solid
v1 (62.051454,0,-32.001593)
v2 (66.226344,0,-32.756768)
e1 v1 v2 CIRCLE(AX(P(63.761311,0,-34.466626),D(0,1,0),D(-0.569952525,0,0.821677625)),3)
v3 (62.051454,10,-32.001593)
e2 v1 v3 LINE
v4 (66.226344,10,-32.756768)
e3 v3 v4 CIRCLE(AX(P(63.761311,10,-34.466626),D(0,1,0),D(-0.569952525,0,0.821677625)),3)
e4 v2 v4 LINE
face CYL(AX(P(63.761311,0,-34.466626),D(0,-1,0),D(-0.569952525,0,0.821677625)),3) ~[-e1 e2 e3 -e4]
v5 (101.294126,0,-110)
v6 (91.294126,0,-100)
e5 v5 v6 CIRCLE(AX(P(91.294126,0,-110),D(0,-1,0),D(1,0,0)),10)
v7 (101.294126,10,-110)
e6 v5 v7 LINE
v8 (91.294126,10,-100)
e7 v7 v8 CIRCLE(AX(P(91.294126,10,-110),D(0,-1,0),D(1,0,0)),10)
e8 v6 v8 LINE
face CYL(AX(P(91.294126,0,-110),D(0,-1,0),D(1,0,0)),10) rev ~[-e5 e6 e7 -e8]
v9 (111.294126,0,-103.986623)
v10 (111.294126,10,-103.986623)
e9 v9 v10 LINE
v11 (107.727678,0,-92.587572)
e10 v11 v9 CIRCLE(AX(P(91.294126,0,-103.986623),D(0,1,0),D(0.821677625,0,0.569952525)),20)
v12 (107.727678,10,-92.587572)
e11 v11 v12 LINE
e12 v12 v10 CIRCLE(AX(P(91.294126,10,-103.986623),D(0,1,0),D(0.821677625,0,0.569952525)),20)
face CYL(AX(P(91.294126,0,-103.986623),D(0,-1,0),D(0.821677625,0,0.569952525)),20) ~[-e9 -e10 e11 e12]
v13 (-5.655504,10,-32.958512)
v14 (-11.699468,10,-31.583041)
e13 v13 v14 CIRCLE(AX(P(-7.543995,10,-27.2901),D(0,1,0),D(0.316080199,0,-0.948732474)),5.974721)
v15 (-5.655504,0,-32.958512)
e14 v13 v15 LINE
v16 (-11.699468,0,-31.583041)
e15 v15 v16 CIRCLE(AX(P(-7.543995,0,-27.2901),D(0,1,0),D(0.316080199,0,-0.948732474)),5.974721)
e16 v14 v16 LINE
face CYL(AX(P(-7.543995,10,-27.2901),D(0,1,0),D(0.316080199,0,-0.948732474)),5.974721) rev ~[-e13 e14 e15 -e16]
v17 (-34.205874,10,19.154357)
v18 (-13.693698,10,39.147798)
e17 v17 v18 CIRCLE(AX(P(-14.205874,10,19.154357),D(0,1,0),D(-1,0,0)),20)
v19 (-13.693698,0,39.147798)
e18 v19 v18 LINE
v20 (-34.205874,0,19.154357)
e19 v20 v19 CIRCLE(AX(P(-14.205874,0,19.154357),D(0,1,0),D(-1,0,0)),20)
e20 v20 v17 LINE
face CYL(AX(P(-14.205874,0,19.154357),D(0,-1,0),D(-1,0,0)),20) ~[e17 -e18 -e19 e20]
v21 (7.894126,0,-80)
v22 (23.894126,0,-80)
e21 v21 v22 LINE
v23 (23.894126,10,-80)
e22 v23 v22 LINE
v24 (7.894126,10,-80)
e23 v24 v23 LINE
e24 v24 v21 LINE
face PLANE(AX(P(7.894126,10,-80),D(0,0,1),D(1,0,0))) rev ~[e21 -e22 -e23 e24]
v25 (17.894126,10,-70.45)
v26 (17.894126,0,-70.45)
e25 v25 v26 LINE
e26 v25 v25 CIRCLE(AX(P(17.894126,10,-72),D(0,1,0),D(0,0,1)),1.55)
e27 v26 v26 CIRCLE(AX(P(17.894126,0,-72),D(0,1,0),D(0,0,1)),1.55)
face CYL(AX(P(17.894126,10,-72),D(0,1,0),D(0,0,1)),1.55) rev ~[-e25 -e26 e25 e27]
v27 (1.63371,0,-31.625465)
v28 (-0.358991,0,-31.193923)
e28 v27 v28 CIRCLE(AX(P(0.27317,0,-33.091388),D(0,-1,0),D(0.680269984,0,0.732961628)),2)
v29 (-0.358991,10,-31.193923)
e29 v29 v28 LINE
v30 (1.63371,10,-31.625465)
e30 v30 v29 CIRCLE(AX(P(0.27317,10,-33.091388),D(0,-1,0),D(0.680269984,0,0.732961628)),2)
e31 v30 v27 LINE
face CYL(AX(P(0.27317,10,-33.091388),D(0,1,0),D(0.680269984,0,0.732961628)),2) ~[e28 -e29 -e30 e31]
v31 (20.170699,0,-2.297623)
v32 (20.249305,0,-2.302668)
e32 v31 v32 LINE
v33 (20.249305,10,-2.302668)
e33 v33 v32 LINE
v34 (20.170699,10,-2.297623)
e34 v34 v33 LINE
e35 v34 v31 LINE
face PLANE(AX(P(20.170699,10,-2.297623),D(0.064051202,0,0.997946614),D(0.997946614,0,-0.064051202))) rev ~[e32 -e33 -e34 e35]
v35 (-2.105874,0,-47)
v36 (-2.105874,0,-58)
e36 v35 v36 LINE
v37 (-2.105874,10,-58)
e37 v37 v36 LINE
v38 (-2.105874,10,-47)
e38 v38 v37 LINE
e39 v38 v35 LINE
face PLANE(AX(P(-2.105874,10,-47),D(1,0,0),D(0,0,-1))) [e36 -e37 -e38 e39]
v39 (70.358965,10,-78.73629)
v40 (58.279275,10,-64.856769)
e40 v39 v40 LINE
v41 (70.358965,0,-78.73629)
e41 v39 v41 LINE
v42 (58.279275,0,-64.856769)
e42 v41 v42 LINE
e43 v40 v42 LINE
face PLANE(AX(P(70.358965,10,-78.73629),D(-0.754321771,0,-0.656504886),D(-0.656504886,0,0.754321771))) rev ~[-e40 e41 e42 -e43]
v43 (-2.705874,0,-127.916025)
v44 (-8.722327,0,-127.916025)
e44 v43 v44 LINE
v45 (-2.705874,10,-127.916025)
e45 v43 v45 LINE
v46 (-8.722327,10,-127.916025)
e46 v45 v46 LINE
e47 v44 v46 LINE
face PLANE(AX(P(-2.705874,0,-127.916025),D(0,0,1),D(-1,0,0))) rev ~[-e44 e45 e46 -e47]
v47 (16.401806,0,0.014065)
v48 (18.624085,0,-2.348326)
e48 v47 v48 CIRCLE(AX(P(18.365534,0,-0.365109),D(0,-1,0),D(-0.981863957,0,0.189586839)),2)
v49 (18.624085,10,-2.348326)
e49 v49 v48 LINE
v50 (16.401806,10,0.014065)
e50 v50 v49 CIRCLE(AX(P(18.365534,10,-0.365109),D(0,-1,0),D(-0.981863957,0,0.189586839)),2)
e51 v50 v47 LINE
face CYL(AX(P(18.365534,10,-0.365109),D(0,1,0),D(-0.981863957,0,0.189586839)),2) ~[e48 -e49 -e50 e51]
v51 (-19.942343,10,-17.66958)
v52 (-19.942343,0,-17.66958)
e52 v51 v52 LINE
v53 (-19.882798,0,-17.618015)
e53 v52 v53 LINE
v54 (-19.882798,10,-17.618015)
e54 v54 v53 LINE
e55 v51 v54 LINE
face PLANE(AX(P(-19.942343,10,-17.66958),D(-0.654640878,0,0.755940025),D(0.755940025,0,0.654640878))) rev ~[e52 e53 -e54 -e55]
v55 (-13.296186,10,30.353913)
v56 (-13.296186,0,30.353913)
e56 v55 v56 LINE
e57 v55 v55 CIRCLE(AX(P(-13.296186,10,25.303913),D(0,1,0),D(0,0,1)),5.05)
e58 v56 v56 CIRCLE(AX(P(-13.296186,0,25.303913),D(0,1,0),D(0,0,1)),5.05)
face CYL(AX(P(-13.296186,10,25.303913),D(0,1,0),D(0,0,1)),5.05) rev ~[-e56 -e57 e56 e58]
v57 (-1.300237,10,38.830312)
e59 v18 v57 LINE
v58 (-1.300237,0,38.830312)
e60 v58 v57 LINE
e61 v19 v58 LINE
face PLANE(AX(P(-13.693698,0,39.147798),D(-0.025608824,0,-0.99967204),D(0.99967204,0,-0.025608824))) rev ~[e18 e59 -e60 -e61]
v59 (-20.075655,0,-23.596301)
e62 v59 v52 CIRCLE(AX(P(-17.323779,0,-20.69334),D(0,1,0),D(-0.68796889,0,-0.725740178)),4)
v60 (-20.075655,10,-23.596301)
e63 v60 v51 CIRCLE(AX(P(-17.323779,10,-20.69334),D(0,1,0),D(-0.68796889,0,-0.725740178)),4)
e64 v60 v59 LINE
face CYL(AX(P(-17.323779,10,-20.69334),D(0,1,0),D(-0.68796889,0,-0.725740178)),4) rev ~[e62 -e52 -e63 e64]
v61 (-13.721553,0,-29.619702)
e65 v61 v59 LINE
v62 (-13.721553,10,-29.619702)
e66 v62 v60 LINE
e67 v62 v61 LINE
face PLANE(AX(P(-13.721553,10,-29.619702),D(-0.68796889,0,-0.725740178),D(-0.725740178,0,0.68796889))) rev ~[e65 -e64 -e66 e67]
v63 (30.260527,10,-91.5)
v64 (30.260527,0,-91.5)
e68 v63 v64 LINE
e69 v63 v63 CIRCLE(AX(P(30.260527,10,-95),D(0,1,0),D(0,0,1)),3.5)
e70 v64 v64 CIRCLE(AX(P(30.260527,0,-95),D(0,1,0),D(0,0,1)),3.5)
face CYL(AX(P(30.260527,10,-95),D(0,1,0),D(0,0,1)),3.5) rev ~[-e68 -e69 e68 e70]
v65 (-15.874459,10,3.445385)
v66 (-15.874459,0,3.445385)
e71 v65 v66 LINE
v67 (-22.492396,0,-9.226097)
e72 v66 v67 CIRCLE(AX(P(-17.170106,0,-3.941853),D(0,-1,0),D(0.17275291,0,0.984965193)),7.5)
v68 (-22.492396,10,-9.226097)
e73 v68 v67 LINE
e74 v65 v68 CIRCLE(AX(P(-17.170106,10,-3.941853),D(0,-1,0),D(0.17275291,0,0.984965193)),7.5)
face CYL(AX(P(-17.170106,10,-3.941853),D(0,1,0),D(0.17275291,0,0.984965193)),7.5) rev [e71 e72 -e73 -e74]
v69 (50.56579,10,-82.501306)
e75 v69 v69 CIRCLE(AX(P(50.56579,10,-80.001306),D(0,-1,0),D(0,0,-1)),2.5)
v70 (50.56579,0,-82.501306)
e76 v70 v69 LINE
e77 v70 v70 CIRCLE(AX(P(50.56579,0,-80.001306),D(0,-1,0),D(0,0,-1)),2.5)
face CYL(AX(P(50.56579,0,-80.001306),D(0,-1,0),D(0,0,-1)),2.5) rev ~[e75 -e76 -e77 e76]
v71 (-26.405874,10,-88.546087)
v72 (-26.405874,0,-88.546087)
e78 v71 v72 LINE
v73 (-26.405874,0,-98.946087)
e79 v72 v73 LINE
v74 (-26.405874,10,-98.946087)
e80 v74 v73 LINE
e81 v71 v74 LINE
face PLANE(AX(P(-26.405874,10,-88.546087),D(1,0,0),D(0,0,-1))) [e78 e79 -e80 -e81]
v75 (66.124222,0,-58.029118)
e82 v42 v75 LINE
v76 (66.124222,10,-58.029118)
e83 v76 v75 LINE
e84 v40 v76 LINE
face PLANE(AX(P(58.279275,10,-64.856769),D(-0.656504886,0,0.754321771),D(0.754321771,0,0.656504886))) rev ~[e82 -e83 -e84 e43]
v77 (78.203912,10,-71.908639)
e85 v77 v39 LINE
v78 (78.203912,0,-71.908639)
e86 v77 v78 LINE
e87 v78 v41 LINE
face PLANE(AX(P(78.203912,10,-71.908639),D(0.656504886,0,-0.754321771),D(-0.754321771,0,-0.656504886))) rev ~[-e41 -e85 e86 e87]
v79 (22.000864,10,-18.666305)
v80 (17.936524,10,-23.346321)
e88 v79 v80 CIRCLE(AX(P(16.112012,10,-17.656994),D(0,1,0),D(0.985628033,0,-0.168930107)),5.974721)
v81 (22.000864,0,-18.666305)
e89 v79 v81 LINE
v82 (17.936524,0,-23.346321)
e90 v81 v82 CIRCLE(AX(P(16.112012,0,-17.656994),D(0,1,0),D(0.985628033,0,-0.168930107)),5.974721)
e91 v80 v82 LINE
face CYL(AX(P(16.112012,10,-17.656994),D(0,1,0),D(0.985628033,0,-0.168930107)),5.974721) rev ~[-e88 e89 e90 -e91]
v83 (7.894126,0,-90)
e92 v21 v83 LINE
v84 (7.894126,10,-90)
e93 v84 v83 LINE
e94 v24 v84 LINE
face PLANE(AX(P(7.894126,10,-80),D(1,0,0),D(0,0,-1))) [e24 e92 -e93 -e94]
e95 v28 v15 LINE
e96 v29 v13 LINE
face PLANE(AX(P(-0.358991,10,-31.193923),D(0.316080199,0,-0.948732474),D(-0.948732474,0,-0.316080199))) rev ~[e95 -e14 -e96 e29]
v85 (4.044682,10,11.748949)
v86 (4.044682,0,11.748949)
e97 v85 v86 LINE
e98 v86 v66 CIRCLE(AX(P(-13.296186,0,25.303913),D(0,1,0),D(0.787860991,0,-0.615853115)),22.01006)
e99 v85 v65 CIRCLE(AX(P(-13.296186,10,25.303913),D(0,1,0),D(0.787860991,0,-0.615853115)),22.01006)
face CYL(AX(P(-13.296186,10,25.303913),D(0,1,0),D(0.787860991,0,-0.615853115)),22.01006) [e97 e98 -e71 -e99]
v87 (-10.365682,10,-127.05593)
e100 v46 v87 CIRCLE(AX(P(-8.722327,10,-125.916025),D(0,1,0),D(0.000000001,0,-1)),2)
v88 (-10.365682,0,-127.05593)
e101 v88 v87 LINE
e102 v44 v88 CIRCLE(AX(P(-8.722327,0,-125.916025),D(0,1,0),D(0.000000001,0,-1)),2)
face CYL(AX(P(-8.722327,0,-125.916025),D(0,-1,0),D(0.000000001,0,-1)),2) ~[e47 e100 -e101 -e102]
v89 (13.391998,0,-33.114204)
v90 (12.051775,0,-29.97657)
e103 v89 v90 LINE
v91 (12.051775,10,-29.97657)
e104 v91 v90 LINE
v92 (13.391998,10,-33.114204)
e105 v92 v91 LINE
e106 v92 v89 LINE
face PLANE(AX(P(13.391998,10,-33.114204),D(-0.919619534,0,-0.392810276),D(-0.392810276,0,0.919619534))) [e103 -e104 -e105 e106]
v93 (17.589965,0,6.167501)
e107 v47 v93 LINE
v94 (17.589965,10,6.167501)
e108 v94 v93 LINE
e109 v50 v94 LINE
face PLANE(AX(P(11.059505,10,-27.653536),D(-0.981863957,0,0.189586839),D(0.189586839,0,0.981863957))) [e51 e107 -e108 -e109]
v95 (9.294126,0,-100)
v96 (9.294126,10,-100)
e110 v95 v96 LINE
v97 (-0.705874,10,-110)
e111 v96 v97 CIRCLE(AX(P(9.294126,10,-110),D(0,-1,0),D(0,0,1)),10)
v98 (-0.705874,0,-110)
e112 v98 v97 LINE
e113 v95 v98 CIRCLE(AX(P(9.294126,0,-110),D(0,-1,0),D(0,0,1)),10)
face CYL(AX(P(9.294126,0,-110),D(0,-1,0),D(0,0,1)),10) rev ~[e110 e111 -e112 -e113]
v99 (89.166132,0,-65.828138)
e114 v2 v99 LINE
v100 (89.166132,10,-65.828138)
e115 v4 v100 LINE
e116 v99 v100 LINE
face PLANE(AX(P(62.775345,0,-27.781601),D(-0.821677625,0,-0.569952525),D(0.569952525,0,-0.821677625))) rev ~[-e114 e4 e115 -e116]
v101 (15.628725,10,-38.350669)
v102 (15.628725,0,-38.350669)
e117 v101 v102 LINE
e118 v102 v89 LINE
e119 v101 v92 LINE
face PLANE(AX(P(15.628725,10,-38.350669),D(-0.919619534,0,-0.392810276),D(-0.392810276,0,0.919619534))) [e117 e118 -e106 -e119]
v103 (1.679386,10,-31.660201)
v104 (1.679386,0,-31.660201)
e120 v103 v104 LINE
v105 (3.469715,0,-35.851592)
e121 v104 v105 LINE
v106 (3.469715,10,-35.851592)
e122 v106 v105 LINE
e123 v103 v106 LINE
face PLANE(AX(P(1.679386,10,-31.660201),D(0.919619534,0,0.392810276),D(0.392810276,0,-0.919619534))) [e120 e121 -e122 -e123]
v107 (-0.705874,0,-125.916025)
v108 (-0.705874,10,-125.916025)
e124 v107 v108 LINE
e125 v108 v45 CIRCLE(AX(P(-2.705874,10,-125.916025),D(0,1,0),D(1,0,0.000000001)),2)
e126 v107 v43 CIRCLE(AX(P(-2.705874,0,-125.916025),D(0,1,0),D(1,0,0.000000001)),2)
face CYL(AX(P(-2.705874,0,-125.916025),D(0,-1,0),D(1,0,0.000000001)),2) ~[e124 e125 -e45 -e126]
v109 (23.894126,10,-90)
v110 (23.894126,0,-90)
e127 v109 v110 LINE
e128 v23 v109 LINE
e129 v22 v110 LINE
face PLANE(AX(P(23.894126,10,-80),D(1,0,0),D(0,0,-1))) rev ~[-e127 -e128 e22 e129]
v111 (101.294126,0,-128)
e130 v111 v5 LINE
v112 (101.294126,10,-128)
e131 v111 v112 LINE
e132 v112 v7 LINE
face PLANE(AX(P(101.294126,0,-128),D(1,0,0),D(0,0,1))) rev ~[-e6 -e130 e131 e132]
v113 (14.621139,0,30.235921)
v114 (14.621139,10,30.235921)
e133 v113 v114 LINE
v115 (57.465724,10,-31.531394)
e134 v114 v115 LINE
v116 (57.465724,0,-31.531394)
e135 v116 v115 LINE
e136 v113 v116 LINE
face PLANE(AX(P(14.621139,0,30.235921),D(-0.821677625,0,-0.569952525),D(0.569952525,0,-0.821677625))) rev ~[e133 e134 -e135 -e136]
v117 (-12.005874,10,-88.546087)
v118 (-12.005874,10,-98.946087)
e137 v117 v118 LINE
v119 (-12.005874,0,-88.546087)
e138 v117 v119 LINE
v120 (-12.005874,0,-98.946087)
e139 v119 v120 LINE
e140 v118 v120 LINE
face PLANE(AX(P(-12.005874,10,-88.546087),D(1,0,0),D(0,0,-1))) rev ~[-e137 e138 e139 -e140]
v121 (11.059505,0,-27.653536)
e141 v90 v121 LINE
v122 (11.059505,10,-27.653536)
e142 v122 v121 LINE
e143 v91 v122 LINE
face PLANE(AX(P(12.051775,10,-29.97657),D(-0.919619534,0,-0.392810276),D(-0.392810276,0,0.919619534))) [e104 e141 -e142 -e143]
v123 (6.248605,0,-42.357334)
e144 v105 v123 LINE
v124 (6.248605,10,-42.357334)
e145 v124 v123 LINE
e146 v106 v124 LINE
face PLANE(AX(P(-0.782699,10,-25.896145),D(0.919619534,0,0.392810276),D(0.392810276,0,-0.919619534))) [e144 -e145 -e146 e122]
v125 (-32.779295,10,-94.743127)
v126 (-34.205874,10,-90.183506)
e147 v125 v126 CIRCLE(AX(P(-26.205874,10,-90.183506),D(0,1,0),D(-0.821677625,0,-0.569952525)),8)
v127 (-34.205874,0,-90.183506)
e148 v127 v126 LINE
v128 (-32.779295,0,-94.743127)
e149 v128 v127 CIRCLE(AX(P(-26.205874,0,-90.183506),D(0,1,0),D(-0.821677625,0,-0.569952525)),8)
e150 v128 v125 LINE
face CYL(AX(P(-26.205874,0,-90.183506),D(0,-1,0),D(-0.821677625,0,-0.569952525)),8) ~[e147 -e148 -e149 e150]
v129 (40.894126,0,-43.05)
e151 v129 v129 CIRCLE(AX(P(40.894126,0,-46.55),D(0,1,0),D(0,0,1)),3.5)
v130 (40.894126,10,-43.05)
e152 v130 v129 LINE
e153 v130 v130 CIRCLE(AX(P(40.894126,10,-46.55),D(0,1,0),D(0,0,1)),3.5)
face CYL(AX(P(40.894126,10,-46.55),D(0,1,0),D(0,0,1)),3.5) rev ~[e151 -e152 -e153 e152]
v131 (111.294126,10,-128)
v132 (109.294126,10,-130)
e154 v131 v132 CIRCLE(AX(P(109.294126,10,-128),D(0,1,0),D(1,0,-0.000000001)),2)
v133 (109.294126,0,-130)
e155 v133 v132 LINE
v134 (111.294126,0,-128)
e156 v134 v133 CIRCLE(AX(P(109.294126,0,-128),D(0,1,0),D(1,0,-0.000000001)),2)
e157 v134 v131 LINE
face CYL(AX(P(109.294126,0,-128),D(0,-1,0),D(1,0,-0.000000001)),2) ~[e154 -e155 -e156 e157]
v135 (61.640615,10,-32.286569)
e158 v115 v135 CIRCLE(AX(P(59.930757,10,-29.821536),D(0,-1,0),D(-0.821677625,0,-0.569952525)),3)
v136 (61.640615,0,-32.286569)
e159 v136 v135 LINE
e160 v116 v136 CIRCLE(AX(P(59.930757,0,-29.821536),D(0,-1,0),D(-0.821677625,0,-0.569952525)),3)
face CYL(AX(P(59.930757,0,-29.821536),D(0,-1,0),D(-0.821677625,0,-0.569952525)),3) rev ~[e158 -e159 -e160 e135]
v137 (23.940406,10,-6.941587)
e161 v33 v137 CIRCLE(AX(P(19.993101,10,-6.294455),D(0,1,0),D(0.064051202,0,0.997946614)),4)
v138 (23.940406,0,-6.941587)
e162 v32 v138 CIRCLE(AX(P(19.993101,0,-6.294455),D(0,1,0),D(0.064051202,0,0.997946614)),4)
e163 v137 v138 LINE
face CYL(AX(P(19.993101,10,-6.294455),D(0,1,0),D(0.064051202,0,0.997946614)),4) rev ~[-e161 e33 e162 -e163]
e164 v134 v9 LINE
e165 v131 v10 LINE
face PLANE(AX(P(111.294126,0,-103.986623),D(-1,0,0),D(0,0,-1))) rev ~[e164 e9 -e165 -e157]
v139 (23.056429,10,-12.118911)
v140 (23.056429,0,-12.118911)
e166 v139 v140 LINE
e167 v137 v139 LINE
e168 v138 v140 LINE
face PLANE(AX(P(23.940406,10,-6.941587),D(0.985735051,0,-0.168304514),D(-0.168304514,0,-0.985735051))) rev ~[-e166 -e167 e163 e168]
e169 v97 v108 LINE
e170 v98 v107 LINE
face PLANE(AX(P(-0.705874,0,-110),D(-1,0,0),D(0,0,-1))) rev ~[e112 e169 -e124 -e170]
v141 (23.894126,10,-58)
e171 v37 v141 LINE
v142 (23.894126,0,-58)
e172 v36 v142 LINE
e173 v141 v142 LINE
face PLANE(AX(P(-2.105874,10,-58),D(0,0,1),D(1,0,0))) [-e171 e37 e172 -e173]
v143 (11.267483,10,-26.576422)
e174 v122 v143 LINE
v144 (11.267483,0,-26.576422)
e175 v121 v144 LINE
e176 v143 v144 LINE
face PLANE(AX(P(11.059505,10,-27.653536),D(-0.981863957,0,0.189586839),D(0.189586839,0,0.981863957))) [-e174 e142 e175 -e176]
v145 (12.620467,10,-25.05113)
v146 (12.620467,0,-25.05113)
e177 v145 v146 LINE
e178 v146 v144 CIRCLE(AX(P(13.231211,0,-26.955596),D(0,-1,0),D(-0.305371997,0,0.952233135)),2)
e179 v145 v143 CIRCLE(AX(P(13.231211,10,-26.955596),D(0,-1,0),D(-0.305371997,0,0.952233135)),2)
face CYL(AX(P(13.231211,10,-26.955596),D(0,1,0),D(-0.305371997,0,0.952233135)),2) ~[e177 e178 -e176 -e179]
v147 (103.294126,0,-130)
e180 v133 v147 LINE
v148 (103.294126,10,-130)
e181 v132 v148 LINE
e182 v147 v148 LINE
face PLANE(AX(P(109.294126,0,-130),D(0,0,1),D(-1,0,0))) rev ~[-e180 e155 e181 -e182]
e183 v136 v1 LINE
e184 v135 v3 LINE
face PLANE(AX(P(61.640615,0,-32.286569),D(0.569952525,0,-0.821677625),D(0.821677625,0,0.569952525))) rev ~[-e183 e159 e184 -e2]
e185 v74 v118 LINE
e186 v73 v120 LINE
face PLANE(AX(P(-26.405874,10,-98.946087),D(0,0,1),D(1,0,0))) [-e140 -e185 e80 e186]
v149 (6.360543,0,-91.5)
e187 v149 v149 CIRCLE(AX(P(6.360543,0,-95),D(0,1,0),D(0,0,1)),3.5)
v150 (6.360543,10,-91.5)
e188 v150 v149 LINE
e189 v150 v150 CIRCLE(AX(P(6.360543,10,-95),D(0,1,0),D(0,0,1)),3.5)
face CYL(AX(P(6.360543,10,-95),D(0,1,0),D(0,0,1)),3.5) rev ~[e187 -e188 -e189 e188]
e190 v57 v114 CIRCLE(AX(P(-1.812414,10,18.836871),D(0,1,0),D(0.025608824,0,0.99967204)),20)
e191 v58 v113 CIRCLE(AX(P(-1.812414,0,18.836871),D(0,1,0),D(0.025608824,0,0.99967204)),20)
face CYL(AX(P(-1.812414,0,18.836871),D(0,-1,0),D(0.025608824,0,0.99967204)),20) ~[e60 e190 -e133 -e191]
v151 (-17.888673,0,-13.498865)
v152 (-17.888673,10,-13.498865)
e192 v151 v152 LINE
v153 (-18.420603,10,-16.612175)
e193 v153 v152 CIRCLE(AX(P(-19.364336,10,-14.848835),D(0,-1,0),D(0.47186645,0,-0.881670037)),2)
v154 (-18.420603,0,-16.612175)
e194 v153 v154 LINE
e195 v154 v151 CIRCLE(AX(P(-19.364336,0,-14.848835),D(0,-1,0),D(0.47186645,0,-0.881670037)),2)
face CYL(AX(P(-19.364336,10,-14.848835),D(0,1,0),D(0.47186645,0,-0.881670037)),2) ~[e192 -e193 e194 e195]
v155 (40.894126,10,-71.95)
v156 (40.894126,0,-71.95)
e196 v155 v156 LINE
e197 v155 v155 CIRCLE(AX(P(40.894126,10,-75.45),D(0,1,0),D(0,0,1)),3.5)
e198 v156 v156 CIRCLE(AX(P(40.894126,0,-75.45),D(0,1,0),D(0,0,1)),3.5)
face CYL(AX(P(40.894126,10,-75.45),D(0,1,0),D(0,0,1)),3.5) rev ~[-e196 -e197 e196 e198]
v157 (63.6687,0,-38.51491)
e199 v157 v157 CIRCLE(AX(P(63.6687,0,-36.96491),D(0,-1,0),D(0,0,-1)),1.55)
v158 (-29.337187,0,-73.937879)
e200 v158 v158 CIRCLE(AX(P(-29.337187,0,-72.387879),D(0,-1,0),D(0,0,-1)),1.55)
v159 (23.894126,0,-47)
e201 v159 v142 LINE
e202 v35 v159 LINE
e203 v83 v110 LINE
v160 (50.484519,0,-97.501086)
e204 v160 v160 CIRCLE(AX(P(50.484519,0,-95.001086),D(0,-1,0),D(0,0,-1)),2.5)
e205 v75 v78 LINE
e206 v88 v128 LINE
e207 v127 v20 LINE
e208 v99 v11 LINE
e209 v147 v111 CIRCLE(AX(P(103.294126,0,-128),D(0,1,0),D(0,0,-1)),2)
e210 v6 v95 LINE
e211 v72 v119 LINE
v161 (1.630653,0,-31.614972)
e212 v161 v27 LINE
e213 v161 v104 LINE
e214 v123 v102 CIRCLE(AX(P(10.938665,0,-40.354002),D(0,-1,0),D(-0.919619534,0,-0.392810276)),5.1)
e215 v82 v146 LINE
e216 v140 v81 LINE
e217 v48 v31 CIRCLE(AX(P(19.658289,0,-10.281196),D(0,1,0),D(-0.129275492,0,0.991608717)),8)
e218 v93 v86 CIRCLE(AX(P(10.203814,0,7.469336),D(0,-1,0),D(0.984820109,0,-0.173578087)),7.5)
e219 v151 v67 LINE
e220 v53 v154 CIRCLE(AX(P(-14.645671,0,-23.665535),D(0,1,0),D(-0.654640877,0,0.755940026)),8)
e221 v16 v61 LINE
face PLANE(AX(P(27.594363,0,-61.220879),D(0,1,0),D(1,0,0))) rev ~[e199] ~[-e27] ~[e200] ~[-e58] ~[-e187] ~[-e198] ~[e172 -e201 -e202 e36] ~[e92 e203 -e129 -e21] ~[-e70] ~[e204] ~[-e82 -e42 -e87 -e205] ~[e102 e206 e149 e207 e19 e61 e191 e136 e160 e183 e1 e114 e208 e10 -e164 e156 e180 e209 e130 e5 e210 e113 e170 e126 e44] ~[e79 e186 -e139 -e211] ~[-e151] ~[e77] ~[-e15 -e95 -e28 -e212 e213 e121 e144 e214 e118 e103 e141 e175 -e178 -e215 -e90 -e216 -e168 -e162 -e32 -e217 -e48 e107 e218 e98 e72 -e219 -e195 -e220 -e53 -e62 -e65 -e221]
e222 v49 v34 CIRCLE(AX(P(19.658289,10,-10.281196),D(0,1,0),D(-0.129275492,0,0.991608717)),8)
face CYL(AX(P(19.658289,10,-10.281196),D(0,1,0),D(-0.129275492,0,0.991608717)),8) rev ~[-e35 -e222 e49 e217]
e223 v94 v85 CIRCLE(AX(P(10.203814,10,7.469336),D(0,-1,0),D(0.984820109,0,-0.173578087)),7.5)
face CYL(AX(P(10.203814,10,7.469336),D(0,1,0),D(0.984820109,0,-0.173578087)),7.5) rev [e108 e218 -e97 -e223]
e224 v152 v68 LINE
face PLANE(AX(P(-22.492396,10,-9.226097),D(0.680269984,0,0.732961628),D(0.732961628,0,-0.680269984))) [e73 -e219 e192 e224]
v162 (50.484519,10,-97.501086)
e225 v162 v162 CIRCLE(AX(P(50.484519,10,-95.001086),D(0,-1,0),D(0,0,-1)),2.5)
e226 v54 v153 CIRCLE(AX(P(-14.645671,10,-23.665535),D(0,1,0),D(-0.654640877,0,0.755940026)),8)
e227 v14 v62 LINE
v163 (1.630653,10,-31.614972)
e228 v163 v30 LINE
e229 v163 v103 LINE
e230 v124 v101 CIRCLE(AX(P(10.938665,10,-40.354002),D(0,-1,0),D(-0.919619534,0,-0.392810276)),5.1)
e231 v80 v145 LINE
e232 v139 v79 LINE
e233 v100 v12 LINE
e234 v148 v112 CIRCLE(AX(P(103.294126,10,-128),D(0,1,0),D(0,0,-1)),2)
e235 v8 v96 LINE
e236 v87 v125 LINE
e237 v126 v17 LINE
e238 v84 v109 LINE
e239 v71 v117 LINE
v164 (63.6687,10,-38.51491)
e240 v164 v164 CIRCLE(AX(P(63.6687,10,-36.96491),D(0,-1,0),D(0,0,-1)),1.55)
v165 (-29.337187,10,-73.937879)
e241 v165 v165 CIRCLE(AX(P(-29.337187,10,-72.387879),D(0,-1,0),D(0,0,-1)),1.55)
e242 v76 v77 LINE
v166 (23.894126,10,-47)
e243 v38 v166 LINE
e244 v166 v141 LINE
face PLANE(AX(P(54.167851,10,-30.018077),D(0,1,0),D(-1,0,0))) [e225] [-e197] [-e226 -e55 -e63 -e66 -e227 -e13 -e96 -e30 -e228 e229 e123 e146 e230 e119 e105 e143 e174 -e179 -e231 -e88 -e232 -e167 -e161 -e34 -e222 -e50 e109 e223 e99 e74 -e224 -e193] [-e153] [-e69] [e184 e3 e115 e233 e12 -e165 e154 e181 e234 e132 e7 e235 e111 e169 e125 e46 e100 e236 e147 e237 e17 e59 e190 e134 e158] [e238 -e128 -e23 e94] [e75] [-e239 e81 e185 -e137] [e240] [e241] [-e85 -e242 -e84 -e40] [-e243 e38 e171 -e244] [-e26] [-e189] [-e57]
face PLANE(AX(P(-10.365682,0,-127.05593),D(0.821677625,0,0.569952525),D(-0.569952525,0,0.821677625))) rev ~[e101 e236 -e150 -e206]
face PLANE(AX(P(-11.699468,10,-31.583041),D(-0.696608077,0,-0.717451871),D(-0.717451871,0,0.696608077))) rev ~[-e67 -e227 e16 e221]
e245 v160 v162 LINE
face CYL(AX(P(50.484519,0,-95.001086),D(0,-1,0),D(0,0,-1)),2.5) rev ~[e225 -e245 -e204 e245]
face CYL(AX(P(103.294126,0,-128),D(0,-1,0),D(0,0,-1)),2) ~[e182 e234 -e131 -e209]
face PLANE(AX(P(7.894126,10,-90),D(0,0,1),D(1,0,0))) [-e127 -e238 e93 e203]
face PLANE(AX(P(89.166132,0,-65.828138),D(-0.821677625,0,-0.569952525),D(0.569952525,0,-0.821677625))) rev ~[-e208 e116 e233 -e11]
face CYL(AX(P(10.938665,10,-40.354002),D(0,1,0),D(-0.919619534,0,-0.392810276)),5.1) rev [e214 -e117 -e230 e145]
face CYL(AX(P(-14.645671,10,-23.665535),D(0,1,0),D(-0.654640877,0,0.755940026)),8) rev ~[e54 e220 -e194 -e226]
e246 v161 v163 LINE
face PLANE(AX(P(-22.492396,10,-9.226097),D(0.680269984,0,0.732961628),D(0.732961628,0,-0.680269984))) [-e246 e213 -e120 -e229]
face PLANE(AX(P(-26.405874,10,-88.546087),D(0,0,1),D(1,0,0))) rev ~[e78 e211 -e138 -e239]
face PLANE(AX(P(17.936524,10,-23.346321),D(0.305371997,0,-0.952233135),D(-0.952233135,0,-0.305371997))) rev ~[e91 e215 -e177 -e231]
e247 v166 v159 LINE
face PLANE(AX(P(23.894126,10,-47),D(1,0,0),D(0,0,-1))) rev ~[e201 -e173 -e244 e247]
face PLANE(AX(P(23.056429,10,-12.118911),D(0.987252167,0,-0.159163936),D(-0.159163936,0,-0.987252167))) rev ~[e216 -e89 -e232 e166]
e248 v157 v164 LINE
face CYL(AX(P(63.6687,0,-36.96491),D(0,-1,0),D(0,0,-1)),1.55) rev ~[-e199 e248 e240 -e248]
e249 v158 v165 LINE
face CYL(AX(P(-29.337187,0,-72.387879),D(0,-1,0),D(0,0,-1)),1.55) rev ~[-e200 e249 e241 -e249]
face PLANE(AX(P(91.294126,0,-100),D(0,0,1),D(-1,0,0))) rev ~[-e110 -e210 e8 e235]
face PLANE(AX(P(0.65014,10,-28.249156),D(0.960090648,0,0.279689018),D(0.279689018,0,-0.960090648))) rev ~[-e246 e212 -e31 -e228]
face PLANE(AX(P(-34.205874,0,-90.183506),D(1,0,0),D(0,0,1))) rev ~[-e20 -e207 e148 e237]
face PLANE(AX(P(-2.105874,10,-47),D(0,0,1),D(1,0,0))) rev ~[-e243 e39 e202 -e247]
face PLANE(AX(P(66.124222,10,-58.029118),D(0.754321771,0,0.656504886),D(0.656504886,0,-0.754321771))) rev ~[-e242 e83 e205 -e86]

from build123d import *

# Parameters (mm, degrees)
DODANIE_WYCI_GNI_CIE1_DEPTH = 10
SZKIC5_R                    = 5.05
WYTNIJ_WYCI_GNI_CIE1_DEPTH  = 10
SZKIC9_R                    = 1.55
SZKIC9_W                    = 26
SZKIC9_H                    = 11
SZKIC9_W_2                  = 16
SZKIC9_H_2                  = 10
WYTNIJ_WYCI_GNI_CIE3_DEPTH  = 172.424567808
SZKIC13_R                   = 3.5
WYTNIJ_WYCI_GNI_CIE5_DEPTH  = 172.424567808
SZKIC19_W                   = 14.4
SZKIC19_H                   = 10.4
WYTNIJ_WYCI_GNI_CIE7_DEPTH  = 172.424567808
SZKIC20_R                   = 1.550000003
WYTNIJ_WYCI_GNI_CIE8_DEPTH  = 10
WYTNIJ_WYCI_GNI_CIE10_DEPTH = 10
WYTNIJ_WYCI_GNI_CIE11_DEPTH = 10
DODANIE_WYCI_GNI_CIE4_DEPTH = 10
SZKIC22_R                   = 1.55
WYTNIJ_WYCI_GNI_CIE9_DEPTH  = 10
WYTNIJ_WYCI_GNI_CIE6_DEPTH  = 172.424567808
WYTNIJ_WYCI_GNI_CIE12_DEPTH = 10
SZKIC30_R                   = 2.5
WYTNIJ_WYCI_GNI_CIE13_DEPTH = 10
WYTNIJ_WYCI_GNI_CIE14_DEPTH = 10


with BuildPart() as part:
    # Szkic2 → Dodanie-wyciągnięcie1 (new body)
    with BuildSketch(Plane(origin=(0, 0, 0), x_dir=(1, 0, 0), z_dir=(0, 1, 0))):
        with BuildLine():
            Line((-2.705874152, 127.916025413), (-8.705874152, 127.916025413))
            Line((-8.705874152, 127.916025413), (-8.722327105, 127.916025413))
            ThreePointArc((-8.722327105, 127.916025413), (-9.649740147, 127.688003136), (-10.365682355, 127.055930463))
            Line((-10.365682355, 127.055930463), (-32.779295153, 94.743126616))
            ThreePointArc((-32.779295153, 94.743126616), (-33.840904211, 92.57229607), (-34.205874152, 90.183506419))
            Line((-34.205874152, 90.183506419), (-34.205874152, -19.154356935))
            ThreePointArc((-34.205874152, -19.154356935), (-28.165753637, -33.476429577), (-13.693697675, -39.147797741))
            Line((-13.693697675, -39.147797741), (-2.713579886, -35.93445679))
            Line((-2.713579886, -35.93445679), (55.027168237, 21.545915465))
            ThreePointArc((55.027168237, 21.545915465), (56.334805154, 23.495770338), (56.794125848, 25.798132784))
            Line((56.794125848, 25.798132784), (56.794125848, 59.333926751))
            ThreePointArc((56.794125848, 59.333926751), (64.677605901, 81.048439594), (85.935948442, 90.090131813))
            Line((85.935948442, 90.090131813), (91.371133341, 90.090131813))
            ThreePointArc((91.371133341, 90.090131813), (105.458816444, 95.925441216), (111.294125848, 110.013124319))
            Line((111.294125848, 110.013124319), (111.294125848, 118.285035843))
            Line((111.294125848, 118.285035843), (111.294125848, 128))
            ThreePointArc((111.294125848, 128), (110.70833941, 129.414213562), (109.294125848, 130))
            Line((109.294125848, 130), (103.294125848, 130))
            ThreePointArc((103.294125848, 130), (101.879912285, 129.414213562), (101.294125848, 128))
            Line((101.294125848, 128), (101.294125848, 118.285035843))
            Line((101.294125848, 118.285035843), (101.294125848, 110))
            ThreePointArc((101.294125848, 110), (98.36519366, 102.928932188), (91.294125848, 100))
            Line((91.294125848, 100), (9.294125848, 100))
            ThreePointArc((9.294125848, 100), (2.223058036, 102.928932188), (-0.705874152, 110))
            Line((-0.705874152, 110), (-0.705874152, 125.916025413))
            ThreePointArc((-0.705874152, 125.916025413), (-1.291660589, 127.330238976), (-2.705874152, 127.916025413))
        make_face()
    extrude(amount=DODANIE_WYCI_GNI_CIE1_DEPTH)

    # Szkic5 → Wytnij-wyciągnięcie1 (cut)
    with BuildSketch(Plane(origin=(0, 10, 0), x_dir=(1, 0, 0), z_dir=(0, 1, 0))):
        with Locations(Location((-13.29618586, -25.303913492, 0), (0, 0, 270))):
            Circle(SZKIC5_R)
    extrude(amount=-WYTNIJ_WYCI_GNI_CIE1_DEPTH, mode=Mode.SUBTRACT)

    # Szkic9 → Wytnij-wyciągnięcie3 (cut, through all)
    with BuildSketch(Plane(origin=(0, 10, 0), x_dir=(1, 0, 0), z_dir=(0, 1, 0))):
        with Locations(Location((17.894125848, 72, 0), (0, 0, 270))):
            Circle(SZKIC9_R)
        with Locations((10.894125848, 52.5)):
            Rectangle(SZKIC9_W, SZKIC9_H)
        with Locations((15.894125848, 85)):
            Rectangle(SZKIC9_W_2, SZKIC9_H_2)
    extrude(amount=-WYTNIJ_WYCI_GNI_CIE3_DEPTH, mode=Mode.SUBTRACT)

    # Szkic13 → Wytnij-wyciągnięcie5 (cut, through all)
    with BuildSketch(Plane(origin=(0, 10, 0), x_dir=(1, 0, 0), z_dir=(0, 1, 0))):
        with Locations(Location((40.894125848, 75.45, 0), (0, 0, 270))):
            Circle(SZKIC13_R)
        with Locations(Location((40.894125848, 46.55, 0), (0, 0, 270))):
            Circle(SZKIC13_R)
        with Locations(Location((30.260526653, 95, 0), (0, 0, 270))):
            Circle(SZKIC13_R)
        with Locations(Location((6.36054282, 95, 0), (0, 0, 270))):
            Circle(SZKIC13_R)
    extrude(amount=-WYTNIJ_WYCI_GNI_CIE5_DEPTH, mode=Mode.SUBTRACT)

    # Szkic19 → Wytnij-wyciągnięcie7 (cut, through all)
    with BuildSketch(Plane(origin=(0, 10, 0), x_dir=(1, 0, 0), z_dir=(0, 1, 0))):
        with Locations((-19.205874152, 93.746086503)):
            Rectangle(SZKIC19_W, SZKIC19_H)
    extrude(amount=-WYTNIJ_WYCI_GNI_CIE7_DEPTH, mode=Mode.SUBTRACT)

    # Szkic20 → Wytnij-wyciągnięcie8 (cut)
    with BuildSketch(Plane.XZ):
        with Locations(Location((-29.337186678, -72.387878862, 0), (0, 0, 270))):
            Circle(SZKIC20_R)
    extrude(amount=-WYTNIJ_WYCI_GNI_CIE8_DEPTH, mode=Mode.SUBTRACT)

    # Szkic23 → Wytnij-wyciągnięcie10 (cut)
    with BuildSketch(Plane(origin=(0, 10, 0), x_dir=(1, 0, 0), z_dir=(0, 1, 0))):
        with BuildLine():
            Line((15.628724602, 38.350669498), (8.597420665, 21.889479841))
            Line((8.597420665, 21.889479841), (-0.782698582, 25.896144654))
            Line((-0.782698582, 25.896144654), (6.248605356, 42.357334312))
            ThreePointArc((6.248605356, 42.357334312), (12.941997386, 45.044061528), (15.628724602, 38.350669498))
        make_face()
    extrude(amount=-WYTNIJ_WYCI_GNI_CIE10_DEPTH, mode=Mode.SUBTRACT)

    # Szkic25 → Wytnij-wyciągnięcie11 (cut)
    with BuildSketch(Plane(origin=(0, 10, 0), x_dir=(1, 0, 0), z_dir=(0, 1, 0))):
        with BuildLine():
            Line((1.679385524, 31.66020119), (3.469714538, 35.85159239))
            Line((3.469714538, 35.85159239), (3.704708682, 36.109613041))
            ThreePointArc((3.704708682, 36.109613041), (9.518980065, 39.386499344), (13.410780858, 33.964541935))
            Line((13.410780858, 33.964541935), (13.39199801, 33.114203976))
            Line((13.39199801, 33.114203976), (12.051775457, 29.976570072))
            Line((12.051775457, 29.976570072), (11.05950477, 27.653536376))
            Line((11.05950477, 27.653536376), (17.589964961, -6.167500607))
            ThreePointArc((17.589964961, -6.167500607), (13.061179445, -14.403704543), (4.044681841, -11.748949479))
            ThreePointArc((4.044681841, -11.748949479), (-4.827370085, -4.988355381), (-15.874459375, -3.445385461))
            ThreePointArc((-15.874459375, -3.445385461), (-23.818044234, 0.469833912), (-22.492396316, 9.226096856))
            Line((-22.492396316, 9.226096856), (1.679385524, 31.66020119))
        make_face()
    extrude(amount=-WYTNIJ_WYCI_GNI_CIE11_DEPTH, mode=Mode.SUBTRACT)

    # Szkic27 → Dodanie-wyciągnięcie4 (add)
    with BuildSketch(Plane.XZ):
        with BuildLine():
            Line((111.294125848, -110.013124319), (91.371133341, -90.090131813))
            Line((91.371133341, -90.090131813), (85.935948442, -90.090131813))
            ThreePointArc((85.935948442, -90.090131813), (64.677605901, -81.048439594), (56.794125848, -59.333926751))
            Line((56.794125848, -59.333926751), (56.794125848, -25.798132784))
            Line((56.794125848, -25.798132784), (55.027168237, -21.545915465))
            Line((55.027168237, -21.545915465), (-2.713579886, 35.93445679))
            Line((-2.713579886, 35.93445679), (-13.693697675, 39.147797741))
            Line((-13.693697675, 39.147797741), (7.831109821, 38.596391899))
            ThreePointArc((7.831109821, 38.596391899), (16.200857661, 35.992910672), (22.653502952, 30.060443886))
            Line((22.653502952, 30.060443886), (62.775344571, -27.781601032))
            Line((62.775344571, -27.781601032), (89.166132073, -65.828137643))
            Line((89.166132073, -65.828137643), (107.72767835, -92.58757216))
            ThreePointArc((107.72767835, -92.58757216), (110.381700996, -98.014648527), (111.294125848, -103.986622655))
            Line((111.294125848, -103.986622655), (111.294125848, -110.013124319))
        make_face()
    extrude(amount=-DODANIE_WYCI_GNI_CIE4_DEPTH)

    # Szkic22 → Wytnij-wyciągnięcie9 (cut)
    with BuildSketch(Plane.XZ):
        with Locations(Location((63.668699874, -36.964909883, 0), (0, 0, 270))):
            Circle(SZKIC22_R)
    extrude(amount=-WYTNIJ_WYCI_GNI_CIE9_DEPTH, mode=Mode.SUBTRACT)

    # Szkic17 → Wytnij-wyciągnięcie6 (cut, through all)
    with BuildSketch(Plane(origin=(0, 10, 0), x_dir=(1, 0, 0), z_dir=(0, 1, 0))):
        Polygon((66.124221849, 58.029118396), (78.203911754, 71.908638986), (70.358965334, 78.736289802), (58.279275429, 64.856769212), align=None)
    extrude(amount=-WYTNIJ_WYCI_GNI_CIE6_DEPTH, mode=Mode.SUBTRACT)

    # Szkic28 → Wytnij-wyciągnięcie12 (cut)
    with BuildSketch(Plane(origin=(0, 10, 0), x_dir=(1, 0, 0), z_dir=(0, 1, 0))):
        with BuildLine():
            Line((11.26748333, 26.576422306), (10.066738772, 23.271111531))
            Line((10.066738772, 23.271111531), (13.650053515, 4.713243184))
            Line((13.650053515, 4.713243184), (14.443246416, -0.151068703))
            Line((14.443246416, -0.151068703), (16.401806069, -0.01406507))
            ThreePointArc((16.401806069, -0.01406507), (16.908780733, 1.735462564), (18.624084966, 2.348326041))
            ThreePointArc((18.624084966, 2.348326041), (19.396162916, 2.285491306), (20.170698513, 2.297622868))
            Line((20.170698513, 2.297622868), (20.24930544, 2.302668096))
            ThreePointArc((20.24930544, 2.302668096), (23.123159184, 3.803925799), (23.940405993, 6.941586981))
            Line((23.940405993, 6.941586981), (23.056429184, 12.118910521))
            Line((23.056429184, 12.118910521), (22.000864003, 18.666304586))
            ThreePointArc((22.000864003, 18.666304586), (20.623069051, 21.574602066), (17.93652414, 23.346321457))
            Line((17.93652414, 23.346321457), (12.620467249, 25.051129714))
            ThreePointArc((12.620467249, 25.051129714), (11.735014139, 25.628420704), (11.26748333, 26.576422306))
        make_face()
        with BuildLine():
            Line((-0.358990635, 31.193922826), (-5.655504297, 32.95851204))
            ThreePointArc((-5.655504297, 32.95851204), (-8.869808875, 33.115862726), (-11.699467807, 31.583040659))
            Line((-11.699467807, 31.583040659), (-13.721552832, 29.619702325))
            Line((-13.721552832, 29.619702325), (-20.075654798, 23.596300827))
            ThreePointArc((-20.075654798, 23.596300827), (-21.322767717, 20.6033893), (-19.942342747, 17.669580012))
            Line((-19.942342747, 17.669580012), (-19.882798357, 17.618014821))
            ThreePointArc((-19.882798357, 17.618014821), (-19.179679353, 17.074421967), (-18.420602931, 16.612174728))
            ThreePointArc((-18.420602931, 16.612174728), (-17.380074633, 15.099249316), (-18.012101151, 13.375246728))
            Line((-18.012101151, 13.375246728), (-18.878230506, 12.580445054))
            Line((-18.878230506, 12.580445054), (-17.460533124, 11.447059157))
            Line((-17.460533124, 11.447059157), (-13.203312435, 15.39161053))
            Line((-13.203312435, 15.39161053), (0.650139771, 28.249156335))
            Line((0.650139771, 28.249156335), (1.63370973, 31.625464518))
            ThreePointArc((1.63370973, 31.625464518), (0.696479646, 31.136698863), (-0.358990635, 31.193922826))
        make_face()
    extrude(amount=-WYTNIJ_WYCI_GNI_CIE12_DEPTH, mode=Mode.SUBTRACT)

    # Szkic30 → Wytnij-wyciągnięcie13 (cut)
    with BuildSketch(Plane.XZ):
        with Locations(Location((50.565790387, -80.001305931, 0), (0, 0, 270))):
            Circle(SZKIC30_R)
        with Locations(Location((50.48451947, -95.001085764, 0), (0, 0, 270))):
            Circle(SZKIC30_R)
    extrude(amount=-WYTNIJ_WYCI_GNI_CIE13_DEPTH, mode=Mode.SUBTRACT)

    # Szkic31 → Wytnij-wyciągnięcie14 (cut)
    with BuildSketch(Plane.XZ):
        with BuildLine():
            Line((14.621138887, 30.235921356), (57.465724426, -31.531393932))
            ThreePointArc((57.465724426, -31.531393932), (59.396767725, -32.773629705), (61.640614875, -32.286569233))
            Line((61.640614875, -32.286569233), (62.051453688, -32.00159297))
            ThreePointArc((62.051453688, -32.00159297), (64.295300838, -31.514532498), (66.226344137, -32.756768271))
            Line((66.226344137, -32.756768271), (22.653502952, 30.060443886))
            ThreePointArc((22.653502952, 30.060443886), (16.200857661, 35.992910672), (7.831109821, 38.596391899))
            Line((7.831109821, 38.596391899), (-1.300237138, 38.830311667))
            ThreePointArc((-1.300237138, 38.830311667), (7.687866321, 36.436435661), (14.621138887, 30.235921356))
        make_face()
    extrude(amount=-WYTNIJ_WYCI_GNI_CIE14_DEPTH, mode=Mode.SUBTRACT)


solid = part.part
